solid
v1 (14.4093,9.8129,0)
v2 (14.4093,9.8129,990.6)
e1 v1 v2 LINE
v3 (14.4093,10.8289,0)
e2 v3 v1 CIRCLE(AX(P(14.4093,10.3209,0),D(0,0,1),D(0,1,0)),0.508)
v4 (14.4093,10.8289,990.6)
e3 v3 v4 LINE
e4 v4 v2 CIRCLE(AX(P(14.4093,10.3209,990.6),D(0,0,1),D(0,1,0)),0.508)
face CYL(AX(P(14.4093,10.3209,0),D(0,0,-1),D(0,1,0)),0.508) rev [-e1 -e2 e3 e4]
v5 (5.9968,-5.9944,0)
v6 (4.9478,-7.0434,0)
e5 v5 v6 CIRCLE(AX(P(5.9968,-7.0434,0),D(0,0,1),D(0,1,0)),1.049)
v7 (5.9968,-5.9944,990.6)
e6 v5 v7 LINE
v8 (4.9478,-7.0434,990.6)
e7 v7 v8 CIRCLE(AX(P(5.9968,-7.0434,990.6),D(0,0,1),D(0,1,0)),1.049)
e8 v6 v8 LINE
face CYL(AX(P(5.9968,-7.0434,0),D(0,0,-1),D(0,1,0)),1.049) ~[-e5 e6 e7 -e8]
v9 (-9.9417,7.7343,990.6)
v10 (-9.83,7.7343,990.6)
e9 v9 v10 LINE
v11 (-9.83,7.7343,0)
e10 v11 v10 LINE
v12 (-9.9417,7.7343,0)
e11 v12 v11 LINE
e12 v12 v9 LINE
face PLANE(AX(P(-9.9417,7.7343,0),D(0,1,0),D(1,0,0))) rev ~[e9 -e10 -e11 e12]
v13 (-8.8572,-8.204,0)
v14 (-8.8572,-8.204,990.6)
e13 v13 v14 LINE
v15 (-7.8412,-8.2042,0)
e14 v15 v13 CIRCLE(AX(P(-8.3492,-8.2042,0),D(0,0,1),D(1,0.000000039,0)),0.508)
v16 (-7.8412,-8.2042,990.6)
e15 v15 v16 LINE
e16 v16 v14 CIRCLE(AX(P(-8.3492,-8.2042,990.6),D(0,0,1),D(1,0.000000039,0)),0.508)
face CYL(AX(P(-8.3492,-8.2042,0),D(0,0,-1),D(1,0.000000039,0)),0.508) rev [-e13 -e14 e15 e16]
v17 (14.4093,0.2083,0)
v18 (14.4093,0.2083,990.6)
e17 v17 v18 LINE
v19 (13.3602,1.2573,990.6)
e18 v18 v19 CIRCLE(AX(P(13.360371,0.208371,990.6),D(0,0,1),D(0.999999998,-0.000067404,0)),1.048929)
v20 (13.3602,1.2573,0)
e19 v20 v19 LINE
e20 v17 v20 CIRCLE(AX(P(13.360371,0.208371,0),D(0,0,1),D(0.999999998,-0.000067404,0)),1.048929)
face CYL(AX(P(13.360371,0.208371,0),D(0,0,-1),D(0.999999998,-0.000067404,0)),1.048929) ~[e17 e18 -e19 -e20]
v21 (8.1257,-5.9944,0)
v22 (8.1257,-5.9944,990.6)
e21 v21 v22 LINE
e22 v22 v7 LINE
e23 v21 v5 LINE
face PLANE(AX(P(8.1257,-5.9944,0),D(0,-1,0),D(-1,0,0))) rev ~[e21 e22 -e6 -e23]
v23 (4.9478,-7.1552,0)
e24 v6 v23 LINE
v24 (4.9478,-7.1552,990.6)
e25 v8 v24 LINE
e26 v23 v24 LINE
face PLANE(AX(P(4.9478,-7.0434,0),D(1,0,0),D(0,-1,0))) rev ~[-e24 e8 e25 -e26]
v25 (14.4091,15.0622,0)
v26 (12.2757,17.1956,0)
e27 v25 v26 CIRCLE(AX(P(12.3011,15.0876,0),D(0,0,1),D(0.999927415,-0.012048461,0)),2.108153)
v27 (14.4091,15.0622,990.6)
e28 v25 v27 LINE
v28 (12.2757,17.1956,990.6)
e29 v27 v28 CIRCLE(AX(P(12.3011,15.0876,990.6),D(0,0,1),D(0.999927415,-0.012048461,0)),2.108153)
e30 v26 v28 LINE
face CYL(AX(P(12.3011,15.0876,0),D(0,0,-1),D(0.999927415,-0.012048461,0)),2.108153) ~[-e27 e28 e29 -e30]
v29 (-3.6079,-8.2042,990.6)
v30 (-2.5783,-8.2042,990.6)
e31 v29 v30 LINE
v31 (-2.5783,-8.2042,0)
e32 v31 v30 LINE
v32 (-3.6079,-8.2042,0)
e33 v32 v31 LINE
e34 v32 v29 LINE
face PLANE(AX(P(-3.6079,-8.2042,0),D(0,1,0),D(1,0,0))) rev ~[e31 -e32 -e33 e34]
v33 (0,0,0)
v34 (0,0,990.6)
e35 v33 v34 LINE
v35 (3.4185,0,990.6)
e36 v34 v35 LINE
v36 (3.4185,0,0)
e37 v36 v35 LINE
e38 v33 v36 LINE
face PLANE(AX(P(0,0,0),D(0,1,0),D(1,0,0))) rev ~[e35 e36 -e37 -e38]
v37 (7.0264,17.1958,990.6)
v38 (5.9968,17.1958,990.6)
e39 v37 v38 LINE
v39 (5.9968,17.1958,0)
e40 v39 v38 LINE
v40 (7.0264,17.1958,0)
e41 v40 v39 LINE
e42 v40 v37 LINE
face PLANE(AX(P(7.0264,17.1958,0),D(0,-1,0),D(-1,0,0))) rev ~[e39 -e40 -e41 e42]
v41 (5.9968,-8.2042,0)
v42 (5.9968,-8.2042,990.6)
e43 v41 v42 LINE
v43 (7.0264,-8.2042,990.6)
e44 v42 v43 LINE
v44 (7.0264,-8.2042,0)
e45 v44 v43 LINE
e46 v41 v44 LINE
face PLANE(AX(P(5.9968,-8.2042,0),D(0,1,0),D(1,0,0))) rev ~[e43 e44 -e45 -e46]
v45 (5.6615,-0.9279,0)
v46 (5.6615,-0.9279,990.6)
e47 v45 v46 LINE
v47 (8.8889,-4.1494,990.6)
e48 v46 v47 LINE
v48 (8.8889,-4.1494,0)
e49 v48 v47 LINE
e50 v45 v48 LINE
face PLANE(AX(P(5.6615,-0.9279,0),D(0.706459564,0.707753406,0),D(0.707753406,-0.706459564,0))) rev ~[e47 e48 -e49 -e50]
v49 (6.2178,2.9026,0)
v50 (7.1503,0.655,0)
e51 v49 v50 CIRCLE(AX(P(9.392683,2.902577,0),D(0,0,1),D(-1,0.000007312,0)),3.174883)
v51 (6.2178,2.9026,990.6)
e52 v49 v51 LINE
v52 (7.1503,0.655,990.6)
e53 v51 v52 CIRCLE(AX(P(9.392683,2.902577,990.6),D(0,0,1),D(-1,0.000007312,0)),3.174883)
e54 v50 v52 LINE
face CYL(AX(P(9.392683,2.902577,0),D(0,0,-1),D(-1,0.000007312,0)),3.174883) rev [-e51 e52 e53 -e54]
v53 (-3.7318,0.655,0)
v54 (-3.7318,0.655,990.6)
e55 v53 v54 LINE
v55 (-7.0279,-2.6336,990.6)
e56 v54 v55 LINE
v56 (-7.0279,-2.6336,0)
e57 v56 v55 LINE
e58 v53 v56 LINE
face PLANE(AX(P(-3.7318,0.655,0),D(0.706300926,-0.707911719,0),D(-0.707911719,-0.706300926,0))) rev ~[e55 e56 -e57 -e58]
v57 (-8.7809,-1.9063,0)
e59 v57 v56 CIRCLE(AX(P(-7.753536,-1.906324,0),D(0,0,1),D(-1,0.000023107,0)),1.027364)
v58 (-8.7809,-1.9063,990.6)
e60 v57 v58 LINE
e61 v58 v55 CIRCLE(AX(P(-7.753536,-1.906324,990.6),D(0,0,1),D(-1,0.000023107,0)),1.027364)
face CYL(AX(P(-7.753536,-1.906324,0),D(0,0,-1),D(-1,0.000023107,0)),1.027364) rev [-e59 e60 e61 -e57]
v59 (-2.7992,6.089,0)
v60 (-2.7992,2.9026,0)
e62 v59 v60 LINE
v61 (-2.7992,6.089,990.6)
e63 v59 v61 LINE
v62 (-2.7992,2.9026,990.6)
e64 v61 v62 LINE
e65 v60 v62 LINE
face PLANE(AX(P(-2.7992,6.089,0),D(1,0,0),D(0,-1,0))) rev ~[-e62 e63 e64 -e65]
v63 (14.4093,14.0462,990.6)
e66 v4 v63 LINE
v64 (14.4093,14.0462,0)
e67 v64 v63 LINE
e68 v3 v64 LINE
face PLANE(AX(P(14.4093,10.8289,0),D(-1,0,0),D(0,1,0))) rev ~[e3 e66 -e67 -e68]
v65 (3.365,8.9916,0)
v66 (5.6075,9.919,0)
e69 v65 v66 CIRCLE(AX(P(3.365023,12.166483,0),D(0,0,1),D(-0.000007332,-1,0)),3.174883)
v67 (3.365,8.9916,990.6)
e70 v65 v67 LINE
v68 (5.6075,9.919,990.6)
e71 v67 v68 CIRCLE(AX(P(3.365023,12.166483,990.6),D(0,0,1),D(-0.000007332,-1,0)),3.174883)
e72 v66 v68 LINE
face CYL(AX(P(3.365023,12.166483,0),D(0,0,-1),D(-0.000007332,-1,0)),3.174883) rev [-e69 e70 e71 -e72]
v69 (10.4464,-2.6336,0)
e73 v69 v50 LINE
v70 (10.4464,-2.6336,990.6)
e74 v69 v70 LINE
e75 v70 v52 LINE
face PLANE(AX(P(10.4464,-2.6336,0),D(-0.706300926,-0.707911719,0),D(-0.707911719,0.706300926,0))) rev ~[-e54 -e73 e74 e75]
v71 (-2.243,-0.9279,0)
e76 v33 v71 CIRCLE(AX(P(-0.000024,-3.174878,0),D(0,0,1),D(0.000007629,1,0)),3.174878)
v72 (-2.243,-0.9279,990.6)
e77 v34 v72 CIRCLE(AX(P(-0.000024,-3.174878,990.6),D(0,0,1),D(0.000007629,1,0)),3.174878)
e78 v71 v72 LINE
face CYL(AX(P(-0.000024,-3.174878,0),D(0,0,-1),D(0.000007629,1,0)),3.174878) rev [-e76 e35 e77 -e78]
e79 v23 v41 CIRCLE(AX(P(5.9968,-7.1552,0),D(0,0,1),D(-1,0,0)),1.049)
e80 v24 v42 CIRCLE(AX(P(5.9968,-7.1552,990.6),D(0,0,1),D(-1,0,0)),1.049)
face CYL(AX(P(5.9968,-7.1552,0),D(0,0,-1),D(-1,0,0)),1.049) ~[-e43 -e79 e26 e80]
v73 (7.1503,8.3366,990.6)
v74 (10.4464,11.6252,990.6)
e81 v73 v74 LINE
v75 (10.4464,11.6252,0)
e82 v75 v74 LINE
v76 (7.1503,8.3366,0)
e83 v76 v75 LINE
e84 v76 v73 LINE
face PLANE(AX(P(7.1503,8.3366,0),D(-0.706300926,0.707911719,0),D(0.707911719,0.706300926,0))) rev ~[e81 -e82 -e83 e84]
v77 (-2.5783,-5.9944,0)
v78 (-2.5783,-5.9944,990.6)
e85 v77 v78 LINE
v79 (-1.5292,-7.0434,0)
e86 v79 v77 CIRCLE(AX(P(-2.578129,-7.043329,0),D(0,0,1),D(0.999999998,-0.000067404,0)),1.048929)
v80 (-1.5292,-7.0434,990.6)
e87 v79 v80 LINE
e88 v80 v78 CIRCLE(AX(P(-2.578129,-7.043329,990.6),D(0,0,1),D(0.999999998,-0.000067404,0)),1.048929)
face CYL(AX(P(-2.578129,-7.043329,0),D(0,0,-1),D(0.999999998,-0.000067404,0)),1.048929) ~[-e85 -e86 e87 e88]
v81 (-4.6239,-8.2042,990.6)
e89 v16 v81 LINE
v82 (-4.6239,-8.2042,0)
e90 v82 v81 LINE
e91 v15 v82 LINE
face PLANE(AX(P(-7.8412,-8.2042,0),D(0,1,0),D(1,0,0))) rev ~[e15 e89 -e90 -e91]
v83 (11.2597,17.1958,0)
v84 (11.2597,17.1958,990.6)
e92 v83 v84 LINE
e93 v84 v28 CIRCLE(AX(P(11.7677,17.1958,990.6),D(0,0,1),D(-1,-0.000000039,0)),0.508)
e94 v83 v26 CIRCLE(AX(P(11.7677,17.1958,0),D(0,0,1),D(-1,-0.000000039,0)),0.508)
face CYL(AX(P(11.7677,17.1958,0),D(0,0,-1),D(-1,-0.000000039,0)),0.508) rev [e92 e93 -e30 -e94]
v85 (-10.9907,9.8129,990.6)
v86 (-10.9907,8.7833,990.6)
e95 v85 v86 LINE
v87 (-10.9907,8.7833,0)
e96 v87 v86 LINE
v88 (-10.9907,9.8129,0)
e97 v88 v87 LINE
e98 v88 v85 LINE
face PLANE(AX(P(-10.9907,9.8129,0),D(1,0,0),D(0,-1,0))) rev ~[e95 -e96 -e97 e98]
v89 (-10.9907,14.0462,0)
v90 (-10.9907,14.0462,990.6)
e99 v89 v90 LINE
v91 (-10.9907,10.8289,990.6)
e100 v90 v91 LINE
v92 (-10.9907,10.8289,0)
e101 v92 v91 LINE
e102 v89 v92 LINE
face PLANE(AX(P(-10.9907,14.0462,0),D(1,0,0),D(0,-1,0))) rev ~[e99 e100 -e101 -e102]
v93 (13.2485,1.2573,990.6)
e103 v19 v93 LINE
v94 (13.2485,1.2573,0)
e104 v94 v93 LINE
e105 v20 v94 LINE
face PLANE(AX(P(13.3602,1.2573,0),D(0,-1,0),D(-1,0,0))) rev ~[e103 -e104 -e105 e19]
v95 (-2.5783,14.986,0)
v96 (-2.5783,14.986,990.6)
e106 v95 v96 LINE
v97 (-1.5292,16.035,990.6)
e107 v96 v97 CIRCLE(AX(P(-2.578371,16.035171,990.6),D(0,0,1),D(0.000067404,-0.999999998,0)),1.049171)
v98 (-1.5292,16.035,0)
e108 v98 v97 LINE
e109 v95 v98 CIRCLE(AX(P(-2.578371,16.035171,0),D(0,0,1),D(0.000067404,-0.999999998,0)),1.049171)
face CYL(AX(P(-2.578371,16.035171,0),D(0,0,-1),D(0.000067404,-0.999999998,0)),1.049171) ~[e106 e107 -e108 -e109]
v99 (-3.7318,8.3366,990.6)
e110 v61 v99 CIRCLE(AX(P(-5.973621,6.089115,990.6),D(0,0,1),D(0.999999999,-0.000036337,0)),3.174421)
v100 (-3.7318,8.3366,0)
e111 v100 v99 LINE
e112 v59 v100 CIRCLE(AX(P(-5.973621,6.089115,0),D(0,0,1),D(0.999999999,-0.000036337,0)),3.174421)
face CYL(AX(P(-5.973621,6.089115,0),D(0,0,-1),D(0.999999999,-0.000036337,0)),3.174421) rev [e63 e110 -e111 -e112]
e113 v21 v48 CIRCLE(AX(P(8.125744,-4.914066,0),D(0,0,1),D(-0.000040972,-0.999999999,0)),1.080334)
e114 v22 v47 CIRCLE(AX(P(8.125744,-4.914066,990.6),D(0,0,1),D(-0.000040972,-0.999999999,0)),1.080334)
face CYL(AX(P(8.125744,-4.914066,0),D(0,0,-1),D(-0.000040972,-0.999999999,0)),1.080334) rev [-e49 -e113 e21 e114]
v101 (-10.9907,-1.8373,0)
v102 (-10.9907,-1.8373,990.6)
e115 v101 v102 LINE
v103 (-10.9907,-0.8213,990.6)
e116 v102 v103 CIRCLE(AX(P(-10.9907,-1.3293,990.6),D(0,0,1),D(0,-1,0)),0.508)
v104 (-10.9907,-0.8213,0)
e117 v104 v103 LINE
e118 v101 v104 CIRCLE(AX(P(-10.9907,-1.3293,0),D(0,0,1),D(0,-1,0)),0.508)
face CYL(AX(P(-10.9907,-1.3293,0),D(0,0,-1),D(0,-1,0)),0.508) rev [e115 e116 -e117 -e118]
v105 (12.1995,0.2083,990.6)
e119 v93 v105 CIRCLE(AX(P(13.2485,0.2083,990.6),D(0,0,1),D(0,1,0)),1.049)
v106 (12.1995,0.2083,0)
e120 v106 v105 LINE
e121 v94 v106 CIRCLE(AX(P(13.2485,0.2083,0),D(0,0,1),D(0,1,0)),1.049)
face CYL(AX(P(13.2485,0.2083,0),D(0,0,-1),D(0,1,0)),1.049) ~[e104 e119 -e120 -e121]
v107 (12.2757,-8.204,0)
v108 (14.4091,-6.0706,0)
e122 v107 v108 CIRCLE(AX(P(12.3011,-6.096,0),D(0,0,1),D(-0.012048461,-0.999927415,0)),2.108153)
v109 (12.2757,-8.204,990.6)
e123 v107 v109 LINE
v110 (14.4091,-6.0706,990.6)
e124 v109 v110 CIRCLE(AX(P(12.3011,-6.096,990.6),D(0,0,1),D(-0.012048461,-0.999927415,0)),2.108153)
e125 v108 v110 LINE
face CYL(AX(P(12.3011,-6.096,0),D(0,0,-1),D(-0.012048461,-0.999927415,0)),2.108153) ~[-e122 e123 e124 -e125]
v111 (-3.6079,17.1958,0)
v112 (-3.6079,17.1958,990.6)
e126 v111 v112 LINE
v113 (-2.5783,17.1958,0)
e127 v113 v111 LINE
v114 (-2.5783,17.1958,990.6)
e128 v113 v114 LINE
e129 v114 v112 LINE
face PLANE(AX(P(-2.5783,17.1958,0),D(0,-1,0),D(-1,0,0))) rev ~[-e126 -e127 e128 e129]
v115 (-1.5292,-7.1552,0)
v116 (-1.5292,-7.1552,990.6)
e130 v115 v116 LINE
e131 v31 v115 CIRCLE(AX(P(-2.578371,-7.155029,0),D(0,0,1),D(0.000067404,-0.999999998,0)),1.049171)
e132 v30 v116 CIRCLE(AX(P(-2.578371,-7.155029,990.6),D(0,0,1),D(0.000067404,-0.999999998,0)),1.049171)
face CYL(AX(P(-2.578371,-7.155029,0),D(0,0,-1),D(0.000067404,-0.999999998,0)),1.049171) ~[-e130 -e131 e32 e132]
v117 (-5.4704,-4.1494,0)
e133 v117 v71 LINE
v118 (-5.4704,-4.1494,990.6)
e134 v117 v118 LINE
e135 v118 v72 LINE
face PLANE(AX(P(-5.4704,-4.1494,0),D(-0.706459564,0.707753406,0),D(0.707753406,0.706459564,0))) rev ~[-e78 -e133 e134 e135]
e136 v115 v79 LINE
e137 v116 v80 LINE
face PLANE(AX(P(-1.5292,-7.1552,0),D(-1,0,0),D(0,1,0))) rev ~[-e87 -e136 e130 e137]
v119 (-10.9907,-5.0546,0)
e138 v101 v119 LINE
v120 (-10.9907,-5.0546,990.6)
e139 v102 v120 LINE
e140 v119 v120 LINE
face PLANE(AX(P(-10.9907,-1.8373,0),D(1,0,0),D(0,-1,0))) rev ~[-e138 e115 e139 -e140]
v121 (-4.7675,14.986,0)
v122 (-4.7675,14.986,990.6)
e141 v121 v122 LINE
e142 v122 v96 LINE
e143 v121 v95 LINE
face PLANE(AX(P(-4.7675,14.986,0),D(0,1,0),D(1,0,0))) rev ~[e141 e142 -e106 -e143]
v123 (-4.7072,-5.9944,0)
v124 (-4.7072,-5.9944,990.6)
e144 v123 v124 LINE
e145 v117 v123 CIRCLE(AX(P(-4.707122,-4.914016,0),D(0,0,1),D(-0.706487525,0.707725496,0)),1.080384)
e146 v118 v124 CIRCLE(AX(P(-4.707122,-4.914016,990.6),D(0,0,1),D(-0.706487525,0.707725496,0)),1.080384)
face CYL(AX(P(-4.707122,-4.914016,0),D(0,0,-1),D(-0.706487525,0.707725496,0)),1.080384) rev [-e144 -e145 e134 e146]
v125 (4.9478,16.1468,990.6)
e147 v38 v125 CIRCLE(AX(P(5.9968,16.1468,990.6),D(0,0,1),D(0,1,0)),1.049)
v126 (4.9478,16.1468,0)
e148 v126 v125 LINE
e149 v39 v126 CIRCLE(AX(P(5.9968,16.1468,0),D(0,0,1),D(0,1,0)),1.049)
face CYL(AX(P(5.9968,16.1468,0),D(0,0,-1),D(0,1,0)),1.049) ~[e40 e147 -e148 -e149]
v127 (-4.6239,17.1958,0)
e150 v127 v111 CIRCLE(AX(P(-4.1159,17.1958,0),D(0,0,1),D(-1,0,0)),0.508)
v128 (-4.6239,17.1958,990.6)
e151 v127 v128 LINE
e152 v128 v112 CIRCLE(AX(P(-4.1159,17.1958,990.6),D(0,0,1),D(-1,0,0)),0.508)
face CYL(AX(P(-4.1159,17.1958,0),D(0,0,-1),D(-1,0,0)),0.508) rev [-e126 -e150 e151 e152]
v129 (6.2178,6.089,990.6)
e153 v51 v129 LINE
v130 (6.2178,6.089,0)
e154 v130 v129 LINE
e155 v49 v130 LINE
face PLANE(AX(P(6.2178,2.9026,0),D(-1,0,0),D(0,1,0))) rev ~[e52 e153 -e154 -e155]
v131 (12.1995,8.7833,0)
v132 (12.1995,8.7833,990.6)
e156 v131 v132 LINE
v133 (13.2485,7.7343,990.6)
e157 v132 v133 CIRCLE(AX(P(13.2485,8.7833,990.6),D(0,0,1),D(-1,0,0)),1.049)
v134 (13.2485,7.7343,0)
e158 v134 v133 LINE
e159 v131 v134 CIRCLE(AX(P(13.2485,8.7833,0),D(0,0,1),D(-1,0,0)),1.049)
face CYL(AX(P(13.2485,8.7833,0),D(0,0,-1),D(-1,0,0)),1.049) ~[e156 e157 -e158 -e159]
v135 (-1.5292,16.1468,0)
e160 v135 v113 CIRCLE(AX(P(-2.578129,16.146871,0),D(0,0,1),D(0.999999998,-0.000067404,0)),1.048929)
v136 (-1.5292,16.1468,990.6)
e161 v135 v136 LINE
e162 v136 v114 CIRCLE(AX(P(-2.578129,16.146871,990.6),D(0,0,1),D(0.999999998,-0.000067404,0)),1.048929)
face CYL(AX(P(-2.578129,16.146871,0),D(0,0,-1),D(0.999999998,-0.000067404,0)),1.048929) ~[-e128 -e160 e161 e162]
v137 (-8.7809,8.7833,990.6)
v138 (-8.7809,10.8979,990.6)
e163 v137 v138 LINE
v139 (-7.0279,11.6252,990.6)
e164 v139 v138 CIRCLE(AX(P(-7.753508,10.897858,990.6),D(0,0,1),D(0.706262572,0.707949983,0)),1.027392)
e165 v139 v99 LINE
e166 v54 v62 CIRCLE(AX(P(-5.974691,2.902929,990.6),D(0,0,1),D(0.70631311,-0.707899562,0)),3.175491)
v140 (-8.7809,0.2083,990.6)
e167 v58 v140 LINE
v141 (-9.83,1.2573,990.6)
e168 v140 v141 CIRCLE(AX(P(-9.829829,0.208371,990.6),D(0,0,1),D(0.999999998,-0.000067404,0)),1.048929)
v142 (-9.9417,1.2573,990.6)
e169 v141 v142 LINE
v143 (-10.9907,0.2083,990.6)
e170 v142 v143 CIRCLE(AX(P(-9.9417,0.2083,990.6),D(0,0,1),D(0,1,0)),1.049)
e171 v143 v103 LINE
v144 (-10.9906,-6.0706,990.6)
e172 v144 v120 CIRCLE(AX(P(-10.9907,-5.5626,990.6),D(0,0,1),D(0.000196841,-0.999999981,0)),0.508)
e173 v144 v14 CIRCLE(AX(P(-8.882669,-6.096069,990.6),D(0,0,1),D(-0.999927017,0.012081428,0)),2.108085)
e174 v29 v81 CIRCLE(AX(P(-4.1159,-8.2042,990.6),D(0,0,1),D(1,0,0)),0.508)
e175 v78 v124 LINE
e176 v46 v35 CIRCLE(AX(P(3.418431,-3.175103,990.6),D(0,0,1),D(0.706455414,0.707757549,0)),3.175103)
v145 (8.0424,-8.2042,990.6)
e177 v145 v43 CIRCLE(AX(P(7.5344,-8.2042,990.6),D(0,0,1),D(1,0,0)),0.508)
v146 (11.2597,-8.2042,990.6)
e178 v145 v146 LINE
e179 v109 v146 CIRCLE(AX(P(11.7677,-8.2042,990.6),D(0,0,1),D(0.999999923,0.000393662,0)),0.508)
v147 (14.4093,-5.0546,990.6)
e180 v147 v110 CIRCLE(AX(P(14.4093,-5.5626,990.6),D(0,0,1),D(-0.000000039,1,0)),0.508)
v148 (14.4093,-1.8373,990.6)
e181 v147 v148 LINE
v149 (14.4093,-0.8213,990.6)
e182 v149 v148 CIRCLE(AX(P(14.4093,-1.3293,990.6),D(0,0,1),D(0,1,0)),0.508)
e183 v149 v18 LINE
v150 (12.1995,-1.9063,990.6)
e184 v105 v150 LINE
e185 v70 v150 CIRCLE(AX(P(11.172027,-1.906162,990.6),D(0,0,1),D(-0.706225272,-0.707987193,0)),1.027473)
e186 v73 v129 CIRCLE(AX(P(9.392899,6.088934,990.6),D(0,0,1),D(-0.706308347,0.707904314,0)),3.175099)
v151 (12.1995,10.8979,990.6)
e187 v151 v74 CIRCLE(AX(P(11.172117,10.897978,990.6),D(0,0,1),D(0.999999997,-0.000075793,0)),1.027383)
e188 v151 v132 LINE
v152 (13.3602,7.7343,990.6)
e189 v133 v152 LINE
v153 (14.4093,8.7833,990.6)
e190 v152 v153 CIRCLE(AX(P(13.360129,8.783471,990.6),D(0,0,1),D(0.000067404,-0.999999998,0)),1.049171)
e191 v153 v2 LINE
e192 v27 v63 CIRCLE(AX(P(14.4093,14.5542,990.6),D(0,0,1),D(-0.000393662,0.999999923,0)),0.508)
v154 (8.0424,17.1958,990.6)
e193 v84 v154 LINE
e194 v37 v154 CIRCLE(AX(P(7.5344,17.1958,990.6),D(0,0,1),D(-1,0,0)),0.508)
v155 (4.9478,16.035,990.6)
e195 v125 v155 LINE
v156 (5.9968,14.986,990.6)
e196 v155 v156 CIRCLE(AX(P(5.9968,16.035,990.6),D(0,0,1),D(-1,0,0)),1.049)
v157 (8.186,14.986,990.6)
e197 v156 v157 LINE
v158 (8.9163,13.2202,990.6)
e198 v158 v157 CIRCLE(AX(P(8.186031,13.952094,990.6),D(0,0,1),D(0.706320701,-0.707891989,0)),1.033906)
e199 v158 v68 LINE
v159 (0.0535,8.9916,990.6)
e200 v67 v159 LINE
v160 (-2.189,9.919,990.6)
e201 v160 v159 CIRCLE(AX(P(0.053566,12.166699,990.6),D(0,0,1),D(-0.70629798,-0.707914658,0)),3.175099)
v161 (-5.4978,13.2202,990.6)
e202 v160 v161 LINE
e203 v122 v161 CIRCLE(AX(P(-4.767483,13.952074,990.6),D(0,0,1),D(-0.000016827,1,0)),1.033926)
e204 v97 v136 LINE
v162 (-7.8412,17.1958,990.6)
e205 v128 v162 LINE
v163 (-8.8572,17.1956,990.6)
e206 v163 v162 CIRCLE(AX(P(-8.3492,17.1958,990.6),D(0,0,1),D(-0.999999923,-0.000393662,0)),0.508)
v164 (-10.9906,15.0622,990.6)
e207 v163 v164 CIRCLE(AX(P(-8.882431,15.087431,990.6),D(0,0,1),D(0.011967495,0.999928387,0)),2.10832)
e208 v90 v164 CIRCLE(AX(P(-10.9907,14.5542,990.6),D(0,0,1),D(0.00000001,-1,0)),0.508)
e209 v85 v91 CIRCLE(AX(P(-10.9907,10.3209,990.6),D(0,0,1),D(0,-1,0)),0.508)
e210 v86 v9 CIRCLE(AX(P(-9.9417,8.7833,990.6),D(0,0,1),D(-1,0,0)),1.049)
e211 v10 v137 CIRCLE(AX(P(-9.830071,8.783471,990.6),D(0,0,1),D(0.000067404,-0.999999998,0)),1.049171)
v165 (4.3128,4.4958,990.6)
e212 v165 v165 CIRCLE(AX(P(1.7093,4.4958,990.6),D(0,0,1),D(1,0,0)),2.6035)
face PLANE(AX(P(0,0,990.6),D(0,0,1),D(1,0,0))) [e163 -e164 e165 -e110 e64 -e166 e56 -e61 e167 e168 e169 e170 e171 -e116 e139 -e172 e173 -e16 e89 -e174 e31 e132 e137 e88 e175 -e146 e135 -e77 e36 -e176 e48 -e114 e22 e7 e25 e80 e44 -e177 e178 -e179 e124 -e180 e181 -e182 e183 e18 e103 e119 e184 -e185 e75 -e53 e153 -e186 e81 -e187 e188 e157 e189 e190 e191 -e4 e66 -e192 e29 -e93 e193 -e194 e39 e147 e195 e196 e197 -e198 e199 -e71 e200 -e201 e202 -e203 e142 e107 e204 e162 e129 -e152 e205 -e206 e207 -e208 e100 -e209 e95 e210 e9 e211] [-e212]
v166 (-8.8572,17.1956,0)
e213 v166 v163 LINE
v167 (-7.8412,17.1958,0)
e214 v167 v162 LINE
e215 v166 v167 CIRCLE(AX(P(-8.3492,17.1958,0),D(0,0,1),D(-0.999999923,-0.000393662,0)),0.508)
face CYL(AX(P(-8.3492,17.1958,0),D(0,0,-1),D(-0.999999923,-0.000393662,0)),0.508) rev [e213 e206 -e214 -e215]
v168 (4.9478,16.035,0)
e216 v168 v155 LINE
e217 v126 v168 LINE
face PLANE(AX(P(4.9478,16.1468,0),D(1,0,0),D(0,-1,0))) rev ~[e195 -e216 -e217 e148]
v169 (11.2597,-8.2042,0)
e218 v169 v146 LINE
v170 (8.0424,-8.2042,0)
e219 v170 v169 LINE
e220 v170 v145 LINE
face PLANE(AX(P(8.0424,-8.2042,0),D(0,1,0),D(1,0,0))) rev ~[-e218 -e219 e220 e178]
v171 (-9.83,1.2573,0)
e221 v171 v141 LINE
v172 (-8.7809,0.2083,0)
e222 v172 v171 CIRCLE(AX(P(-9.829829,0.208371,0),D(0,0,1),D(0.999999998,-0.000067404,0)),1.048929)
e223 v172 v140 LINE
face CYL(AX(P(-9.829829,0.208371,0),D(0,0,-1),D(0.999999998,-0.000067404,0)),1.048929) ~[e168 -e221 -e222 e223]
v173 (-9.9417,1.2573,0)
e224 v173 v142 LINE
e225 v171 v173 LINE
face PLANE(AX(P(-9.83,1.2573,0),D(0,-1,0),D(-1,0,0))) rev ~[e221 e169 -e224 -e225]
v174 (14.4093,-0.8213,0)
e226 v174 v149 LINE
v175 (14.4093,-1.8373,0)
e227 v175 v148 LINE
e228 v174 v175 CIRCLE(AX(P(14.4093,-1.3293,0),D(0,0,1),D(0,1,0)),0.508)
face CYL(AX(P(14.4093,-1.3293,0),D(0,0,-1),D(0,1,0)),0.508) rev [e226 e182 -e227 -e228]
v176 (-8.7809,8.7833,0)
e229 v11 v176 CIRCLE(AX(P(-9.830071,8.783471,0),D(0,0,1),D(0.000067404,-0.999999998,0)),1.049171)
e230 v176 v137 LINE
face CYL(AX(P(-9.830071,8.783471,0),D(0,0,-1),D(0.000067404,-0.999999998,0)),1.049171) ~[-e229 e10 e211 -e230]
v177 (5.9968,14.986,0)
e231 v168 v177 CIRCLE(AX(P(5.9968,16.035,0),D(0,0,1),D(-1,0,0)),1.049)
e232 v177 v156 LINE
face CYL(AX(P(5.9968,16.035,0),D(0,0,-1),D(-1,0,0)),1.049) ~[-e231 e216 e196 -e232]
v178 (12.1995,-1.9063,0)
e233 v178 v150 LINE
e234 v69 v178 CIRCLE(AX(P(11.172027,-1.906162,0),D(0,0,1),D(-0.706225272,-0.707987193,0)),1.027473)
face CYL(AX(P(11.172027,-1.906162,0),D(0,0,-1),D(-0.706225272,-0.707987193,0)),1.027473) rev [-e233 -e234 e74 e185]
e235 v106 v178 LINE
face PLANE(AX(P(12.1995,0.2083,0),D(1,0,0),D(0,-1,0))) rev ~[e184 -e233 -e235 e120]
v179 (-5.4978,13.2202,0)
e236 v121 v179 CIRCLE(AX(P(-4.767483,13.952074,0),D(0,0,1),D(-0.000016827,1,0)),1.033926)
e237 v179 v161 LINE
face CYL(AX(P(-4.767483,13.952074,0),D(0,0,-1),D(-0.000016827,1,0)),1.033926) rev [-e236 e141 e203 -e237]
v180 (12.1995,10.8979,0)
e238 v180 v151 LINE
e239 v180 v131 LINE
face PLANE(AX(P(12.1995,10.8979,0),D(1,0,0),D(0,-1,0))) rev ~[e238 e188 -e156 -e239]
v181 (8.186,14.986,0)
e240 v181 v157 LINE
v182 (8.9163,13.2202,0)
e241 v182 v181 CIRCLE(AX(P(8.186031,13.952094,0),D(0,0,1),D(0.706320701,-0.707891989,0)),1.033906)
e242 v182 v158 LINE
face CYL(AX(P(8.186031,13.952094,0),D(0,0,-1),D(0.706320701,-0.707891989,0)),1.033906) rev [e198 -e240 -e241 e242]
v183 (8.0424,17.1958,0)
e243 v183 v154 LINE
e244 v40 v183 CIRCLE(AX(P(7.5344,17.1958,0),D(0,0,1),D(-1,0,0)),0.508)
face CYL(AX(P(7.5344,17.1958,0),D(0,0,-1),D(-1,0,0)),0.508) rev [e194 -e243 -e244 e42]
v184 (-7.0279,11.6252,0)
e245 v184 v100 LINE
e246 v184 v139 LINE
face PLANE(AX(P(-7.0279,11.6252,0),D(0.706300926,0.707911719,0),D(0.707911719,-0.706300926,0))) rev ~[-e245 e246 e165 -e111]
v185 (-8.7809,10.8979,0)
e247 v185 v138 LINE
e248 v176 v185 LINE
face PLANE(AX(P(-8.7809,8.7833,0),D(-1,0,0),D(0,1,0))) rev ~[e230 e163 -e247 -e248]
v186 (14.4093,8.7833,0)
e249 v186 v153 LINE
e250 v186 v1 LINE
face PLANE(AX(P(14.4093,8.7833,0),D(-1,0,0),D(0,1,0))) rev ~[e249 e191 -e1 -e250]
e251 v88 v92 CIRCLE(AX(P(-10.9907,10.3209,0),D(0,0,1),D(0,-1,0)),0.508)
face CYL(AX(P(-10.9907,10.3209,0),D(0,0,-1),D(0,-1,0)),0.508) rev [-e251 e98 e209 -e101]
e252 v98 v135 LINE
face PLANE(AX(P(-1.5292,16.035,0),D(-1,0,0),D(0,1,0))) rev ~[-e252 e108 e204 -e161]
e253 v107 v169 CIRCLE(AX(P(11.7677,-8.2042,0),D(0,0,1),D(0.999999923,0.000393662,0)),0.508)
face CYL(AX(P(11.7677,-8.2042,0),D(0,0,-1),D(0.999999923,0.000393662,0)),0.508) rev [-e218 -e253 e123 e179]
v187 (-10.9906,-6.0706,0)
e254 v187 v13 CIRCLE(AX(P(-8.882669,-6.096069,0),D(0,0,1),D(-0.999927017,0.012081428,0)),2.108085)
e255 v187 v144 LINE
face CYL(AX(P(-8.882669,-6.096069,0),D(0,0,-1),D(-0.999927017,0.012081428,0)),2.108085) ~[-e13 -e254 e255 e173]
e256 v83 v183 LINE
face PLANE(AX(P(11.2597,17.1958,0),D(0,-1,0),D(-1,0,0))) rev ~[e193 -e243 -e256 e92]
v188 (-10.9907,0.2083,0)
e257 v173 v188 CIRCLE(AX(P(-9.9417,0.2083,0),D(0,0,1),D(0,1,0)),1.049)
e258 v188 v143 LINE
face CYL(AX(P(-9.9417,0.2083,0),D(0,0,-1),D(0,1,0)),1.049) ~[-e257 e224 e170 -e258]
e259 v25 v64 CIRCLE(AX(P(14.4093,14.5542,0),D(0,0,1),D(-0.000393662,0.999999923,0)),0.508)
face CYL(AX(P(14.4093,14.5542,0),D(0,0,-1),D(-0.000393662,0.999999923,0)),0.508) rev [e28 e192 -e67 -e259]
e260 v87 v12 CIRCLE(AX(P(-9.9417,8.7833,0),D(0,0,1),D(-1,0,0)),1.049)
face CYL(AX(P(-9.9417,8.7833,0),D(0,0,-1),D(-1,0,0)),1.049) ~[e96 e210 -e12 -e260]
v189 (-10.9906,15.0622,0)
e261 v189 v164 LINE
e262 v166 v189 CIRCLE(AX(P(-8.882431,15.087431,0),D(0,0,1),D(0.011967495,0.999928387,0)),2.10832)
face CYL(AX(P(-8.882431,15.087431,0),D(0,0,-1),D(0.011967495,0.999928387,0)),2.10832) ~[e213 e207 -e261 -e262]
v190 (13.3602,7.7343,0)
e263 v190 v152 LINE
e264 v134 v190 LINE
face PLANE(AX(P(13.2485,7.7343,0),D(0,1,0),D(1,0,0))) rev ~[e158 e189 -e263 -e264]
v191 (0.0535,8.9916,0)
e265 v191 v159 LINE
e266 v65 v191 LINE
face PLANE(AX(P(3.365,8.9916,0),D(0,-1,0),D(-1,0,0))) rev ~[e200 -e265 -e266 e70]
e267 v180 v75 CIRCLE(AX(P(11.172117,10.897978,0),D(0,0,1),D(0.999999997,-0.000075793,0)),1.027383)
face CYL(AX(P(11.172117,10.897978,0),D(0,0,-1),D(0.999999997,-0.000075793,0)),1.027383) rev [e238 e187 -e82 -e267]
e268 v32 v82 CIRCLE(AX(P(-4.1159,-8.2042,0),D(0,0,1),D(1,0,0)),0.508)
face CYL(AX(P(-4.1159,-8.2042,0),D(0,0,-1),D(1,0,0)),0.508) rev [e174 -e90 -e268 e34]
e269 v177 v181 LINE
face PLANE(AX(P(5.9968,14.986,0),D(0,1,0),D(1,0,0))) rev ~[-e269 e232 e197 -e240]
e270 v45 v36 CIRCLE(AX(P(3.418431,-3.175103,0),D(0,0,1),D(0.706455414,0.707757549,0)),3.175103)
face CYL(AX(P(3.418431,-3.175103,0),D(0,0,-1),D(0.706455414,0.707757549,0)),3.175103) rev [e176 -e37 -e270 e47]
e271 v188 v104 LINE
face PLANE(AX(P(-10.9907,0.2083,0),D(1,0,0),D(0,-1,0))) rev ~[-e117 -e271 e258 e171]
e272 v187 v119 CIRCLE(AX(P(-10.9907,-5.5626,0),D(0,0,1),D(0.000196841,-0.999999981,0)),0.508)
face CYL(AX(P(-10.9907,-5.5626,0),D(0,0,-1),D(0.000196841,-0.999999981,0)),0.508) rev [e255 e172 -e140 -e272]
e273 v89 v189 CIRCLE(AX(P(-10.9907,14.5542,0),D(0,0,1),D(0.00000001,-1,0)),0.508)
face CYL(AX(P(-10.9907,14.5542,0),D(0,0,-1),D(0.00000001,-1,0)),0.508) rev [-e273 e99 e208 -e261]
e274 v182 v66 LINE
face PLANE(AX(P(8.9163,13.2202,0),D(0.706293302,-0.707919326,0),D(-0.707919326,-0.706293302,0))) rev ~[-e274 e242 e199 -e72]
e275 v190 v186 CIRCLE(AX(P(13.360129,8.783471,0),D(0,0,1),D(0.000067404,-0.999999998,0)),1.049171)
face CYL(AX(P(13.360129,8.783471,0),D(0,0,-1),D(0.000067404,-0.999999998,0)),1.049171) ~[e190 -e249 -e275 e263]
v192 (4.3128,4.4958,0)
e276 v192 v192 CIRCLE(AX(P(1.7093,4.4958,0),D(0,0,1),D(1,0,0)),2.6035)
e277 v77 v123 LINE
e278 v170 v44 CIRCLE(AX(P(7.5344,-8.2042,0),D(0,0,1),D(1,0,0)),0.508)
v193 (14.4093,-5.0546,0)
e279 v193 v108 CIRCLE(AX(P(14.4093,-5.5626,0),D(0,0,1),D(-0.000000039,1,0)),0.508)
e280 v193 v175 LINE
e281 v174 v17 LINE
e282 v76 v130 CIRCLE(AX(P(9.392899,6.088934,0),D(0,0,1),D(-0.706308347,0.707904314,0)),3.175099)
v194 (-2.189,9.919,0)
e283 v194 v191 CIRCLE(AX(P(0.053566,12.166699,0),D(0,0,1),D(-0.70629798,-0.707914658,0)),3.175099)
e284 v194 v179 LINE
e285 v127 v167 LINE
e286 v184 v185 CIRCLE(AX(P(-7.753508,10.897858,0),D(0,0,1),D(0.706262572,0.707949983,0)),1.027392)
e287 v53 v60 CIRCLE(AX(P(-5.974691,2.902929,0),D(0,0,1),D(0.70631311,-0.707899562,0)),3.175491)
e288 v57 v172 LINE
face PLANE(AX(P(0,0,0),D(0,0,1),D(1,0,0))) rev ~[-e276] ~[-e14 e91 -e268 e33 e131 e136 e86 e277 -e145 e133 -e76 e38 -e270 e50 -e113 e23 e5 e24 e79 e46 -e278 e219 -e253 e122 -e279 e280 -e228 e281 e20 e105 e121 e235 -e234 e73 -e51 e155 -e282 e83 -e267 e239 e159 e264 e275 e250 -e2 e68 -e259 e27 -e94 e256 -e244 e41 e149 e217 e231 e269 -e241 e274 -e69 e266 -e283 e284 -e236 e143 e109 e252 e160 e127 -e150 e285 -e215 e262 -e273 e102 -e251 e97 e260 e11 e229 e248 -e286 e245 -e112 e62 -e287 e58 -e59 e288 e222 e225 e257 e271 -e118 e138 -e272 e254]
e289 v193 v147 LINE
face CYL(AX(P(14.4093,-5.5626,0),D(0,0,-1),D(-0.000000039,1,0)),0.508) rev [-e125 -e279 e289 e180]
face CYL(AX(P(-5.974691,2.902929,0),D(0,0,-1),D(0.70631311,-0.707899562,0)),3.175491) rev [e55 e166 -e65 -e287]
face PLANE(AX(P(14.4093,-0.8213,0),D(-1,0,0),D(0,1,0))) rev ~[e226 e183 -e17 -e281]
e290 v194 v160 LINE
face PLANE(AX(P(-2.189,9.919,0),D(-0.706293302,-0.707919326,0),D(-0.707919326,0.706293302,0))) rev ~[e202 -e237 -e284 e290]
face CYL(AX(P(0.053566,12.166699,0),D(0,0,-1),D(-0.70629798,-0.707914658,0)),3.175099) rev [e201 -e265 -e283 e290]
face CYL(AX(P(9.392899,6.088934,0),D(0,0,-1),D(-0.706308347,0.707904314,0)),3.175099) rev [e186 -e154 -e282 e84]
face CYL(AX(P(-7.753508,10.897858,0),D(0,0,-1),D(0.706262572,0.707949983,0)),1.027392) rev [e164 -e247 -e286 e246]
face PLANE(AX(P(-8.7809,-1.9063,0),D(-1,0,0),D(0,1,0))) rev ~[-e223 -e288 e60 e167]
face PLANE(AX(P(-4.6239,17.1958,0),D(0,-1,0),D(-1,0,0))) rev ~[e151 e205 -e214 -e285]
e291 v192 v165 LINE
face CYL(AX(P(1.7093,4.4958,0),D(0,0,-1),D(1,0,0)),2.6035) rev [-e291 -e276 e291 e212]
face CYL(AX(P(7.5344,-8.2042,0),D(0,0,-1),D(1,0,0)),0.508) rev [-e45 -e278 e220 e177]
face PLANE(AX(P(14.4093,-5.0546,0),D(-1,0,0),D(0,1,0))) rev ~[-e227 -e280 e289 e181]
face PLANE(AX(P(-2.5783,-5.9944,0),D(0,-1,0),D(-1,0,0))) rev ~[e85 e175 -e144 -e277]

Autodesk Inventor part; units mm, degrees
ref_plane "YZ Plane" through (0, 0, 0) normal (1, 0, 0) x (0, 1, 0)
ref_plane "XZ Plane" through (0, 0, 0) normal (0, 1, 0) x (-1, 0, 0)
ref_plane "XY Plane" through (0, 0, 0) normal (0, 0, 1) x (1, 0, 0)
sketch "Sketch1" plane through (0, 0, 0) normal (0, 0, 1) x (1, 0, 0)
  arc A0 (-5.4704, -4.1494) -> (-4.7072, -5.9944) centre (-4.7072, -4.914) ccw
  line L0 (-5.4704, -4.1494) -> (-2.243, -0.9279)
  arc A1 (0, 0) -> (-2.243, -0.9279) centre (0, -3.175) ccw
  line L1 (0, 0) -> (3.4185, 0)
  arc A2 (5.6615, -0.9279) -> (3.4185, 0) centre (3.4185, -3.175) ccw
  line L2 (5.6615, -0.9279) -> (8.8889, -4.1494)
  arc A3 (8.1257, -5.9944) -> (8.8889, -4.1494) centre (8.1257, -4.914) ccw
  line L3 (8.1257, -5.9944) -> (5.9968, -5.9944)
  arc A4 (5.9968, -5.9944) -> (4.9478, -7.0434) centre (5.9968, -7.0434) ccw
  line L4 (4.9478, -7.0434) -> (4.9478, -7.1552)
  arc A5 (4.9478, -7.1552) -> (5.9968, -8.2042) centre (5.9968, -7.1552) ccw
  line L5 (5.9968, -8.2042) -> (7.0264, -8.2042)
  arc A6 (8.0424, -8.2042) -> (7.0264, -8.2042) centre (7.5344, -8.2042) ccw
  line L6 (8.0424, -8.2042) -> (11.2597, -8.2042)
  arc A7 (12.2757, -8.204) -> (11.2597, -8.2042) centre (11.7677, -8.2042) ccw
  arc A8 (12.2757, -8.204) -> (14.4091, -6.0706) centre (12.3011, -6.096) ccw
  arc A9 (14.4093, -5.0546) -> (14.4091, -6.0706) centre (14.4093, -5.5626) ccw
  line L7 (14.4093, -5.0546) -> (14.4093, -1.8373)
  arc A10 (14.4093, -0.8213) -> (14.4093, -1.8373) centre (14.4093, -1.3293) ccw
  line L8 (14.4093, -0.8213) -> (14.4093, 0.2083)
  arc A11 (14.4093, 0.2083) -> (13.3602, 1.2573) centre (13.3602, 0.2083) ccw
  line L9 (13.3602, 1.2573) -> (13.2485, 1.2573)
  arc A12 (13.2485, 1.2573) -> (12.1995, 0.2083) centre (13.2485, 0.2083) ccw
  line L10 (12.1995, 0.2083) -> (12.1995, -1.9063)
  arc A13 (10.4464, -2.6336) -> (12.1995, -1.9063) centre (11.172, -1.9063) ccw
  line L11 (10.4464, -2.6336) -> (7.1503, 0.655)
  arc A14 (6.2178, 2.9026) -> (7.1503, 0.655) centre (9.3928, 2.9026) ccw
  line L12 (6.2178, 2.9026) -> (6.2178, 6.089)
  arc A15 (7.1503, 8.3366) -> (6.2178, 6.089) centre (9.3928, 6.089) ccw
  line L13 (7.1503, 8.3366) -> (10.4464, 11.6252)
  arc A16 (12.1995, 10.8979) -> (10.4464, 11.6252) centre (11.172, 10.8979) ccw
  line L14 (12.1995, 10.8979) -> (12.1995, 8.7833)
  arc A17 (12.1995, 8.7833) -> (13.2485, 7.7343) centre (13.2485, 8.7833) ccw
  line L15 (13.2485, 7.7343) -> (13.3602, 7.7343)
  arc A18 (13.3602, 7.7343) -> (14.4093, 8.7833) centre (13.3602, 8.7833) ccw
  line L16 (14.4093, 8.7833) -> (14.4093, 9.8129)
  arc A19 (14.4093, 10.8289) -> (14.4093, 9.8129) centre (14.4093, 10.3209) ccw
  line L17 (14.4093, 10.8289) -> (14.4093, 14.0462)
  arc A20 (14.4091, 15.0622) -> (14.4093, 14.0462) centre (14.4093, 14.5542) ccw
  arc A21 (14.4091, 15.0622) -> (12.2757, 17.1956) centre (12.3011, 15.0876) ccw
  arc A22 (11.2597, 17.1958) -> (12.2757, 17.1956) centre (11.7677, 17.1958) ccw
  line L18 (11.2597, 17.1958) -> (8.0424, 17.1958)
  arc A23 (7.0264, 17.1958) -> (8.0424, 17.1958) centre (7.5344, 17.1958) ccw
  line L19 (7.0264, 17.1958) -> (5.9968, 17.1958)
  arc A24 (5.9968, 17.1958) -> (4.9478, 16.1468) centre (5.9968, 16.1468) ccw
  line L20 (4.9478, 16.1468) -> (4.9478, 16.035)
  arc A25 (4.9478, 16.035) -> (5.9968, 14.986) centre (5.9968, 16.035) ccw
  line L21 (5.9968, 14.986) -> (8.186, 14.986)
  arc A26 (8.9163, 13.2202) -> (8.186, 14.986) centre (8.186, 13.9521) ccw
  line L22 (8.9163, 13.2202) -> (5.6075, 9.919)
  arc A27 (3.365, 8.9916) -> (5.6075, 9.919) centre (3.365, 12.1666) ccw
  line L23 (3.365, 8.9916) -> (0.0535, 8.9916)
  arc A28 (-2.189, 9.919) -> (0.0535, 8.9916) centre (0.0535, 12.1666) ccw
  line L24 (-2.189, 9.919) -> (-5.4978, 13.2202)
  arc A29 (-4.7675, 14.986) -> (-5.4978, 13.2202) centre (-4.7675, 13.9521) ccw
  line L25 (-4.7675, 14.986) -> (-2.5783, 14.986)
  arc A30 (-2.5783, 14.986) -> (-1.5292, 16.035) centre (-2.5783, 16.035) ccw
  line L26 (-1.5292, 16.035) -> (-1.5292, 16.1468)
  arc A31 (-1.5292, 16.1468) -> (-2.5783, 17.1958) centre (-2.5783, 16.1468) ccw
  line L27 (-2.5783, 17.1958) -> (-3.6079, 17.1958)
  arc A32 (-4.6239, 17.1958) -> (-3.6079, 17.1958) centre (-4.1159, 17.1958) ccw
  line L28 (-4.6239, 17.1958) -> (-7.8412, 17.1958)
  arc A33 (-8.8572, 17.1956) -> (-7.8412, 17.1958) centre (-8.3492, 17.1958) ccw
  arc A34 (-8.8572, 17.1956) -> (-10.9906, 15.0622) centre (-8.8825, 15.0876) ccw
  arc A35 (-10.9907, 14.0462) -> (-10.9906, 15.0622) centre (-10.9907, 14.5542) ccw
  line L29 (-10.9907, 14.0462) -> (-10.9907, 10.8289)
  arc A36 (-10.9907, 9.8129) -> (-10.9907, 10.8289) centre (-10.9907, 10.3209) ccw
  line L30 (-10.9907, 9.8129) -> (-10.9907, 8.7833)
  arc A37 (-10.9907, 8.7833) -> (-9.9417, 7.7343) centre (-9.9417, 8.7833) ccw
  line L31 (-9.9417, 7.7343) -> (-9.83, 7.7343)
  arc A38 (-9.83, 7.7343) -> (-8.7809, 8.7833) centre (-9.83, 8.7833) ccw
  line L32 (-8.7809, 8.7833) -> (-8.7809, 10.8979)
  arc A39 (-7.0279, 11.6252) -> (-8.7809, 10.8979) centre (-7.7535, 10.8979) ccw
  line L33 (-7.0279, 11.6252) -> (-3.7318, 8.3366)
  arc A40 (-2.7992, 6.089) -> (-3.7318, 8.3366) centre (-5.9742, 6.089) ccw
  line L34 (-2.7992, 6.089) -> (-2.7992, 2.9026)
  arc A41 (-3.7318, 0.655) -> (-2.7992, 2.9026) centre (-5.9742, 2.9026) ccw
  line L35 (-3.7318, 0.655) -> (-7.0279, -2.6336)
  arc A42 (-8.7809, -1.9063) -> (-7.0279, -2.6336) centre (-7.7535, -1.9063) ccw
  line L36 (-8.7809, -1.9063) -> (-8.7809, 0.2083)
  arc A43 (-8.7809, 0.2083) -> (-9.83, 1.2573) centre (-9.83, 0.2083) ccw
  line L37 (-9.83, 1.2573) -> (-9.9417, 1.2573)
  arc A44 (-9.9417, 1.2573) -> (-10.9907, 0.2083) centre (-9.9417, 0.2083) ccw
  line L38 (-10.9907, 0.2083) -> (-10.9907, -0.8213)
  arc A45 (-10.9907, -1.8373) -> (-10.9907, -0.8213) centre (-10.9907, -1.3293) ccw
  line L39 (-10.9907, -1.8373) -> (-10.9907, -5.0546)
  arc A46 (-10.9906, -6.0706) -> (-10.9907, -5.0546) centre (-10.9907, -5.5626) ccw
  arc A47 (-10.9906, -6.0706) -> (-8.8572, -8.204) centre (-8.8825, -6.096) ccw
  arc A48 (-7.8412, -8.2042) -> (-8.8572, -8.204) centre (-8.3492, -8.2042) ccw
  line L40 (-7.8412, -8.2042) -> (-4.6239, -8.2042)
  arc A49 (-3.6079, -8.2042) -> (-4.6239, -8.2042) centre (-4.1159, -8.2042) ccw
  line L41 (-3.6079, -8.2042) -> (-2.5783, -8.2042)
  arc A50 (-2.5783, -8.2042) -> (-1.5292, -7.1552) centre (-2.5783, -7.1552) ccw
  line L42 (-1.5292, -7.1552) -> (-1.5292, -7.0434)
  arc A51 (-1.5292, -7.0434) -> (-2.5783, -5.9944) centre (-2.5783, -7.0434) ccw
  line L43 (-2.5783, -5.9944) -> (-4.7072, -5.9944)
  circle A52 centre (1.7093, 4.4958) radius 2.6035
extrude "Extrusion1" add sketch "Sketch1" along normal blind 990.6
properties part number "39 in 1x1 T slot" material "Steel, Alloy"
